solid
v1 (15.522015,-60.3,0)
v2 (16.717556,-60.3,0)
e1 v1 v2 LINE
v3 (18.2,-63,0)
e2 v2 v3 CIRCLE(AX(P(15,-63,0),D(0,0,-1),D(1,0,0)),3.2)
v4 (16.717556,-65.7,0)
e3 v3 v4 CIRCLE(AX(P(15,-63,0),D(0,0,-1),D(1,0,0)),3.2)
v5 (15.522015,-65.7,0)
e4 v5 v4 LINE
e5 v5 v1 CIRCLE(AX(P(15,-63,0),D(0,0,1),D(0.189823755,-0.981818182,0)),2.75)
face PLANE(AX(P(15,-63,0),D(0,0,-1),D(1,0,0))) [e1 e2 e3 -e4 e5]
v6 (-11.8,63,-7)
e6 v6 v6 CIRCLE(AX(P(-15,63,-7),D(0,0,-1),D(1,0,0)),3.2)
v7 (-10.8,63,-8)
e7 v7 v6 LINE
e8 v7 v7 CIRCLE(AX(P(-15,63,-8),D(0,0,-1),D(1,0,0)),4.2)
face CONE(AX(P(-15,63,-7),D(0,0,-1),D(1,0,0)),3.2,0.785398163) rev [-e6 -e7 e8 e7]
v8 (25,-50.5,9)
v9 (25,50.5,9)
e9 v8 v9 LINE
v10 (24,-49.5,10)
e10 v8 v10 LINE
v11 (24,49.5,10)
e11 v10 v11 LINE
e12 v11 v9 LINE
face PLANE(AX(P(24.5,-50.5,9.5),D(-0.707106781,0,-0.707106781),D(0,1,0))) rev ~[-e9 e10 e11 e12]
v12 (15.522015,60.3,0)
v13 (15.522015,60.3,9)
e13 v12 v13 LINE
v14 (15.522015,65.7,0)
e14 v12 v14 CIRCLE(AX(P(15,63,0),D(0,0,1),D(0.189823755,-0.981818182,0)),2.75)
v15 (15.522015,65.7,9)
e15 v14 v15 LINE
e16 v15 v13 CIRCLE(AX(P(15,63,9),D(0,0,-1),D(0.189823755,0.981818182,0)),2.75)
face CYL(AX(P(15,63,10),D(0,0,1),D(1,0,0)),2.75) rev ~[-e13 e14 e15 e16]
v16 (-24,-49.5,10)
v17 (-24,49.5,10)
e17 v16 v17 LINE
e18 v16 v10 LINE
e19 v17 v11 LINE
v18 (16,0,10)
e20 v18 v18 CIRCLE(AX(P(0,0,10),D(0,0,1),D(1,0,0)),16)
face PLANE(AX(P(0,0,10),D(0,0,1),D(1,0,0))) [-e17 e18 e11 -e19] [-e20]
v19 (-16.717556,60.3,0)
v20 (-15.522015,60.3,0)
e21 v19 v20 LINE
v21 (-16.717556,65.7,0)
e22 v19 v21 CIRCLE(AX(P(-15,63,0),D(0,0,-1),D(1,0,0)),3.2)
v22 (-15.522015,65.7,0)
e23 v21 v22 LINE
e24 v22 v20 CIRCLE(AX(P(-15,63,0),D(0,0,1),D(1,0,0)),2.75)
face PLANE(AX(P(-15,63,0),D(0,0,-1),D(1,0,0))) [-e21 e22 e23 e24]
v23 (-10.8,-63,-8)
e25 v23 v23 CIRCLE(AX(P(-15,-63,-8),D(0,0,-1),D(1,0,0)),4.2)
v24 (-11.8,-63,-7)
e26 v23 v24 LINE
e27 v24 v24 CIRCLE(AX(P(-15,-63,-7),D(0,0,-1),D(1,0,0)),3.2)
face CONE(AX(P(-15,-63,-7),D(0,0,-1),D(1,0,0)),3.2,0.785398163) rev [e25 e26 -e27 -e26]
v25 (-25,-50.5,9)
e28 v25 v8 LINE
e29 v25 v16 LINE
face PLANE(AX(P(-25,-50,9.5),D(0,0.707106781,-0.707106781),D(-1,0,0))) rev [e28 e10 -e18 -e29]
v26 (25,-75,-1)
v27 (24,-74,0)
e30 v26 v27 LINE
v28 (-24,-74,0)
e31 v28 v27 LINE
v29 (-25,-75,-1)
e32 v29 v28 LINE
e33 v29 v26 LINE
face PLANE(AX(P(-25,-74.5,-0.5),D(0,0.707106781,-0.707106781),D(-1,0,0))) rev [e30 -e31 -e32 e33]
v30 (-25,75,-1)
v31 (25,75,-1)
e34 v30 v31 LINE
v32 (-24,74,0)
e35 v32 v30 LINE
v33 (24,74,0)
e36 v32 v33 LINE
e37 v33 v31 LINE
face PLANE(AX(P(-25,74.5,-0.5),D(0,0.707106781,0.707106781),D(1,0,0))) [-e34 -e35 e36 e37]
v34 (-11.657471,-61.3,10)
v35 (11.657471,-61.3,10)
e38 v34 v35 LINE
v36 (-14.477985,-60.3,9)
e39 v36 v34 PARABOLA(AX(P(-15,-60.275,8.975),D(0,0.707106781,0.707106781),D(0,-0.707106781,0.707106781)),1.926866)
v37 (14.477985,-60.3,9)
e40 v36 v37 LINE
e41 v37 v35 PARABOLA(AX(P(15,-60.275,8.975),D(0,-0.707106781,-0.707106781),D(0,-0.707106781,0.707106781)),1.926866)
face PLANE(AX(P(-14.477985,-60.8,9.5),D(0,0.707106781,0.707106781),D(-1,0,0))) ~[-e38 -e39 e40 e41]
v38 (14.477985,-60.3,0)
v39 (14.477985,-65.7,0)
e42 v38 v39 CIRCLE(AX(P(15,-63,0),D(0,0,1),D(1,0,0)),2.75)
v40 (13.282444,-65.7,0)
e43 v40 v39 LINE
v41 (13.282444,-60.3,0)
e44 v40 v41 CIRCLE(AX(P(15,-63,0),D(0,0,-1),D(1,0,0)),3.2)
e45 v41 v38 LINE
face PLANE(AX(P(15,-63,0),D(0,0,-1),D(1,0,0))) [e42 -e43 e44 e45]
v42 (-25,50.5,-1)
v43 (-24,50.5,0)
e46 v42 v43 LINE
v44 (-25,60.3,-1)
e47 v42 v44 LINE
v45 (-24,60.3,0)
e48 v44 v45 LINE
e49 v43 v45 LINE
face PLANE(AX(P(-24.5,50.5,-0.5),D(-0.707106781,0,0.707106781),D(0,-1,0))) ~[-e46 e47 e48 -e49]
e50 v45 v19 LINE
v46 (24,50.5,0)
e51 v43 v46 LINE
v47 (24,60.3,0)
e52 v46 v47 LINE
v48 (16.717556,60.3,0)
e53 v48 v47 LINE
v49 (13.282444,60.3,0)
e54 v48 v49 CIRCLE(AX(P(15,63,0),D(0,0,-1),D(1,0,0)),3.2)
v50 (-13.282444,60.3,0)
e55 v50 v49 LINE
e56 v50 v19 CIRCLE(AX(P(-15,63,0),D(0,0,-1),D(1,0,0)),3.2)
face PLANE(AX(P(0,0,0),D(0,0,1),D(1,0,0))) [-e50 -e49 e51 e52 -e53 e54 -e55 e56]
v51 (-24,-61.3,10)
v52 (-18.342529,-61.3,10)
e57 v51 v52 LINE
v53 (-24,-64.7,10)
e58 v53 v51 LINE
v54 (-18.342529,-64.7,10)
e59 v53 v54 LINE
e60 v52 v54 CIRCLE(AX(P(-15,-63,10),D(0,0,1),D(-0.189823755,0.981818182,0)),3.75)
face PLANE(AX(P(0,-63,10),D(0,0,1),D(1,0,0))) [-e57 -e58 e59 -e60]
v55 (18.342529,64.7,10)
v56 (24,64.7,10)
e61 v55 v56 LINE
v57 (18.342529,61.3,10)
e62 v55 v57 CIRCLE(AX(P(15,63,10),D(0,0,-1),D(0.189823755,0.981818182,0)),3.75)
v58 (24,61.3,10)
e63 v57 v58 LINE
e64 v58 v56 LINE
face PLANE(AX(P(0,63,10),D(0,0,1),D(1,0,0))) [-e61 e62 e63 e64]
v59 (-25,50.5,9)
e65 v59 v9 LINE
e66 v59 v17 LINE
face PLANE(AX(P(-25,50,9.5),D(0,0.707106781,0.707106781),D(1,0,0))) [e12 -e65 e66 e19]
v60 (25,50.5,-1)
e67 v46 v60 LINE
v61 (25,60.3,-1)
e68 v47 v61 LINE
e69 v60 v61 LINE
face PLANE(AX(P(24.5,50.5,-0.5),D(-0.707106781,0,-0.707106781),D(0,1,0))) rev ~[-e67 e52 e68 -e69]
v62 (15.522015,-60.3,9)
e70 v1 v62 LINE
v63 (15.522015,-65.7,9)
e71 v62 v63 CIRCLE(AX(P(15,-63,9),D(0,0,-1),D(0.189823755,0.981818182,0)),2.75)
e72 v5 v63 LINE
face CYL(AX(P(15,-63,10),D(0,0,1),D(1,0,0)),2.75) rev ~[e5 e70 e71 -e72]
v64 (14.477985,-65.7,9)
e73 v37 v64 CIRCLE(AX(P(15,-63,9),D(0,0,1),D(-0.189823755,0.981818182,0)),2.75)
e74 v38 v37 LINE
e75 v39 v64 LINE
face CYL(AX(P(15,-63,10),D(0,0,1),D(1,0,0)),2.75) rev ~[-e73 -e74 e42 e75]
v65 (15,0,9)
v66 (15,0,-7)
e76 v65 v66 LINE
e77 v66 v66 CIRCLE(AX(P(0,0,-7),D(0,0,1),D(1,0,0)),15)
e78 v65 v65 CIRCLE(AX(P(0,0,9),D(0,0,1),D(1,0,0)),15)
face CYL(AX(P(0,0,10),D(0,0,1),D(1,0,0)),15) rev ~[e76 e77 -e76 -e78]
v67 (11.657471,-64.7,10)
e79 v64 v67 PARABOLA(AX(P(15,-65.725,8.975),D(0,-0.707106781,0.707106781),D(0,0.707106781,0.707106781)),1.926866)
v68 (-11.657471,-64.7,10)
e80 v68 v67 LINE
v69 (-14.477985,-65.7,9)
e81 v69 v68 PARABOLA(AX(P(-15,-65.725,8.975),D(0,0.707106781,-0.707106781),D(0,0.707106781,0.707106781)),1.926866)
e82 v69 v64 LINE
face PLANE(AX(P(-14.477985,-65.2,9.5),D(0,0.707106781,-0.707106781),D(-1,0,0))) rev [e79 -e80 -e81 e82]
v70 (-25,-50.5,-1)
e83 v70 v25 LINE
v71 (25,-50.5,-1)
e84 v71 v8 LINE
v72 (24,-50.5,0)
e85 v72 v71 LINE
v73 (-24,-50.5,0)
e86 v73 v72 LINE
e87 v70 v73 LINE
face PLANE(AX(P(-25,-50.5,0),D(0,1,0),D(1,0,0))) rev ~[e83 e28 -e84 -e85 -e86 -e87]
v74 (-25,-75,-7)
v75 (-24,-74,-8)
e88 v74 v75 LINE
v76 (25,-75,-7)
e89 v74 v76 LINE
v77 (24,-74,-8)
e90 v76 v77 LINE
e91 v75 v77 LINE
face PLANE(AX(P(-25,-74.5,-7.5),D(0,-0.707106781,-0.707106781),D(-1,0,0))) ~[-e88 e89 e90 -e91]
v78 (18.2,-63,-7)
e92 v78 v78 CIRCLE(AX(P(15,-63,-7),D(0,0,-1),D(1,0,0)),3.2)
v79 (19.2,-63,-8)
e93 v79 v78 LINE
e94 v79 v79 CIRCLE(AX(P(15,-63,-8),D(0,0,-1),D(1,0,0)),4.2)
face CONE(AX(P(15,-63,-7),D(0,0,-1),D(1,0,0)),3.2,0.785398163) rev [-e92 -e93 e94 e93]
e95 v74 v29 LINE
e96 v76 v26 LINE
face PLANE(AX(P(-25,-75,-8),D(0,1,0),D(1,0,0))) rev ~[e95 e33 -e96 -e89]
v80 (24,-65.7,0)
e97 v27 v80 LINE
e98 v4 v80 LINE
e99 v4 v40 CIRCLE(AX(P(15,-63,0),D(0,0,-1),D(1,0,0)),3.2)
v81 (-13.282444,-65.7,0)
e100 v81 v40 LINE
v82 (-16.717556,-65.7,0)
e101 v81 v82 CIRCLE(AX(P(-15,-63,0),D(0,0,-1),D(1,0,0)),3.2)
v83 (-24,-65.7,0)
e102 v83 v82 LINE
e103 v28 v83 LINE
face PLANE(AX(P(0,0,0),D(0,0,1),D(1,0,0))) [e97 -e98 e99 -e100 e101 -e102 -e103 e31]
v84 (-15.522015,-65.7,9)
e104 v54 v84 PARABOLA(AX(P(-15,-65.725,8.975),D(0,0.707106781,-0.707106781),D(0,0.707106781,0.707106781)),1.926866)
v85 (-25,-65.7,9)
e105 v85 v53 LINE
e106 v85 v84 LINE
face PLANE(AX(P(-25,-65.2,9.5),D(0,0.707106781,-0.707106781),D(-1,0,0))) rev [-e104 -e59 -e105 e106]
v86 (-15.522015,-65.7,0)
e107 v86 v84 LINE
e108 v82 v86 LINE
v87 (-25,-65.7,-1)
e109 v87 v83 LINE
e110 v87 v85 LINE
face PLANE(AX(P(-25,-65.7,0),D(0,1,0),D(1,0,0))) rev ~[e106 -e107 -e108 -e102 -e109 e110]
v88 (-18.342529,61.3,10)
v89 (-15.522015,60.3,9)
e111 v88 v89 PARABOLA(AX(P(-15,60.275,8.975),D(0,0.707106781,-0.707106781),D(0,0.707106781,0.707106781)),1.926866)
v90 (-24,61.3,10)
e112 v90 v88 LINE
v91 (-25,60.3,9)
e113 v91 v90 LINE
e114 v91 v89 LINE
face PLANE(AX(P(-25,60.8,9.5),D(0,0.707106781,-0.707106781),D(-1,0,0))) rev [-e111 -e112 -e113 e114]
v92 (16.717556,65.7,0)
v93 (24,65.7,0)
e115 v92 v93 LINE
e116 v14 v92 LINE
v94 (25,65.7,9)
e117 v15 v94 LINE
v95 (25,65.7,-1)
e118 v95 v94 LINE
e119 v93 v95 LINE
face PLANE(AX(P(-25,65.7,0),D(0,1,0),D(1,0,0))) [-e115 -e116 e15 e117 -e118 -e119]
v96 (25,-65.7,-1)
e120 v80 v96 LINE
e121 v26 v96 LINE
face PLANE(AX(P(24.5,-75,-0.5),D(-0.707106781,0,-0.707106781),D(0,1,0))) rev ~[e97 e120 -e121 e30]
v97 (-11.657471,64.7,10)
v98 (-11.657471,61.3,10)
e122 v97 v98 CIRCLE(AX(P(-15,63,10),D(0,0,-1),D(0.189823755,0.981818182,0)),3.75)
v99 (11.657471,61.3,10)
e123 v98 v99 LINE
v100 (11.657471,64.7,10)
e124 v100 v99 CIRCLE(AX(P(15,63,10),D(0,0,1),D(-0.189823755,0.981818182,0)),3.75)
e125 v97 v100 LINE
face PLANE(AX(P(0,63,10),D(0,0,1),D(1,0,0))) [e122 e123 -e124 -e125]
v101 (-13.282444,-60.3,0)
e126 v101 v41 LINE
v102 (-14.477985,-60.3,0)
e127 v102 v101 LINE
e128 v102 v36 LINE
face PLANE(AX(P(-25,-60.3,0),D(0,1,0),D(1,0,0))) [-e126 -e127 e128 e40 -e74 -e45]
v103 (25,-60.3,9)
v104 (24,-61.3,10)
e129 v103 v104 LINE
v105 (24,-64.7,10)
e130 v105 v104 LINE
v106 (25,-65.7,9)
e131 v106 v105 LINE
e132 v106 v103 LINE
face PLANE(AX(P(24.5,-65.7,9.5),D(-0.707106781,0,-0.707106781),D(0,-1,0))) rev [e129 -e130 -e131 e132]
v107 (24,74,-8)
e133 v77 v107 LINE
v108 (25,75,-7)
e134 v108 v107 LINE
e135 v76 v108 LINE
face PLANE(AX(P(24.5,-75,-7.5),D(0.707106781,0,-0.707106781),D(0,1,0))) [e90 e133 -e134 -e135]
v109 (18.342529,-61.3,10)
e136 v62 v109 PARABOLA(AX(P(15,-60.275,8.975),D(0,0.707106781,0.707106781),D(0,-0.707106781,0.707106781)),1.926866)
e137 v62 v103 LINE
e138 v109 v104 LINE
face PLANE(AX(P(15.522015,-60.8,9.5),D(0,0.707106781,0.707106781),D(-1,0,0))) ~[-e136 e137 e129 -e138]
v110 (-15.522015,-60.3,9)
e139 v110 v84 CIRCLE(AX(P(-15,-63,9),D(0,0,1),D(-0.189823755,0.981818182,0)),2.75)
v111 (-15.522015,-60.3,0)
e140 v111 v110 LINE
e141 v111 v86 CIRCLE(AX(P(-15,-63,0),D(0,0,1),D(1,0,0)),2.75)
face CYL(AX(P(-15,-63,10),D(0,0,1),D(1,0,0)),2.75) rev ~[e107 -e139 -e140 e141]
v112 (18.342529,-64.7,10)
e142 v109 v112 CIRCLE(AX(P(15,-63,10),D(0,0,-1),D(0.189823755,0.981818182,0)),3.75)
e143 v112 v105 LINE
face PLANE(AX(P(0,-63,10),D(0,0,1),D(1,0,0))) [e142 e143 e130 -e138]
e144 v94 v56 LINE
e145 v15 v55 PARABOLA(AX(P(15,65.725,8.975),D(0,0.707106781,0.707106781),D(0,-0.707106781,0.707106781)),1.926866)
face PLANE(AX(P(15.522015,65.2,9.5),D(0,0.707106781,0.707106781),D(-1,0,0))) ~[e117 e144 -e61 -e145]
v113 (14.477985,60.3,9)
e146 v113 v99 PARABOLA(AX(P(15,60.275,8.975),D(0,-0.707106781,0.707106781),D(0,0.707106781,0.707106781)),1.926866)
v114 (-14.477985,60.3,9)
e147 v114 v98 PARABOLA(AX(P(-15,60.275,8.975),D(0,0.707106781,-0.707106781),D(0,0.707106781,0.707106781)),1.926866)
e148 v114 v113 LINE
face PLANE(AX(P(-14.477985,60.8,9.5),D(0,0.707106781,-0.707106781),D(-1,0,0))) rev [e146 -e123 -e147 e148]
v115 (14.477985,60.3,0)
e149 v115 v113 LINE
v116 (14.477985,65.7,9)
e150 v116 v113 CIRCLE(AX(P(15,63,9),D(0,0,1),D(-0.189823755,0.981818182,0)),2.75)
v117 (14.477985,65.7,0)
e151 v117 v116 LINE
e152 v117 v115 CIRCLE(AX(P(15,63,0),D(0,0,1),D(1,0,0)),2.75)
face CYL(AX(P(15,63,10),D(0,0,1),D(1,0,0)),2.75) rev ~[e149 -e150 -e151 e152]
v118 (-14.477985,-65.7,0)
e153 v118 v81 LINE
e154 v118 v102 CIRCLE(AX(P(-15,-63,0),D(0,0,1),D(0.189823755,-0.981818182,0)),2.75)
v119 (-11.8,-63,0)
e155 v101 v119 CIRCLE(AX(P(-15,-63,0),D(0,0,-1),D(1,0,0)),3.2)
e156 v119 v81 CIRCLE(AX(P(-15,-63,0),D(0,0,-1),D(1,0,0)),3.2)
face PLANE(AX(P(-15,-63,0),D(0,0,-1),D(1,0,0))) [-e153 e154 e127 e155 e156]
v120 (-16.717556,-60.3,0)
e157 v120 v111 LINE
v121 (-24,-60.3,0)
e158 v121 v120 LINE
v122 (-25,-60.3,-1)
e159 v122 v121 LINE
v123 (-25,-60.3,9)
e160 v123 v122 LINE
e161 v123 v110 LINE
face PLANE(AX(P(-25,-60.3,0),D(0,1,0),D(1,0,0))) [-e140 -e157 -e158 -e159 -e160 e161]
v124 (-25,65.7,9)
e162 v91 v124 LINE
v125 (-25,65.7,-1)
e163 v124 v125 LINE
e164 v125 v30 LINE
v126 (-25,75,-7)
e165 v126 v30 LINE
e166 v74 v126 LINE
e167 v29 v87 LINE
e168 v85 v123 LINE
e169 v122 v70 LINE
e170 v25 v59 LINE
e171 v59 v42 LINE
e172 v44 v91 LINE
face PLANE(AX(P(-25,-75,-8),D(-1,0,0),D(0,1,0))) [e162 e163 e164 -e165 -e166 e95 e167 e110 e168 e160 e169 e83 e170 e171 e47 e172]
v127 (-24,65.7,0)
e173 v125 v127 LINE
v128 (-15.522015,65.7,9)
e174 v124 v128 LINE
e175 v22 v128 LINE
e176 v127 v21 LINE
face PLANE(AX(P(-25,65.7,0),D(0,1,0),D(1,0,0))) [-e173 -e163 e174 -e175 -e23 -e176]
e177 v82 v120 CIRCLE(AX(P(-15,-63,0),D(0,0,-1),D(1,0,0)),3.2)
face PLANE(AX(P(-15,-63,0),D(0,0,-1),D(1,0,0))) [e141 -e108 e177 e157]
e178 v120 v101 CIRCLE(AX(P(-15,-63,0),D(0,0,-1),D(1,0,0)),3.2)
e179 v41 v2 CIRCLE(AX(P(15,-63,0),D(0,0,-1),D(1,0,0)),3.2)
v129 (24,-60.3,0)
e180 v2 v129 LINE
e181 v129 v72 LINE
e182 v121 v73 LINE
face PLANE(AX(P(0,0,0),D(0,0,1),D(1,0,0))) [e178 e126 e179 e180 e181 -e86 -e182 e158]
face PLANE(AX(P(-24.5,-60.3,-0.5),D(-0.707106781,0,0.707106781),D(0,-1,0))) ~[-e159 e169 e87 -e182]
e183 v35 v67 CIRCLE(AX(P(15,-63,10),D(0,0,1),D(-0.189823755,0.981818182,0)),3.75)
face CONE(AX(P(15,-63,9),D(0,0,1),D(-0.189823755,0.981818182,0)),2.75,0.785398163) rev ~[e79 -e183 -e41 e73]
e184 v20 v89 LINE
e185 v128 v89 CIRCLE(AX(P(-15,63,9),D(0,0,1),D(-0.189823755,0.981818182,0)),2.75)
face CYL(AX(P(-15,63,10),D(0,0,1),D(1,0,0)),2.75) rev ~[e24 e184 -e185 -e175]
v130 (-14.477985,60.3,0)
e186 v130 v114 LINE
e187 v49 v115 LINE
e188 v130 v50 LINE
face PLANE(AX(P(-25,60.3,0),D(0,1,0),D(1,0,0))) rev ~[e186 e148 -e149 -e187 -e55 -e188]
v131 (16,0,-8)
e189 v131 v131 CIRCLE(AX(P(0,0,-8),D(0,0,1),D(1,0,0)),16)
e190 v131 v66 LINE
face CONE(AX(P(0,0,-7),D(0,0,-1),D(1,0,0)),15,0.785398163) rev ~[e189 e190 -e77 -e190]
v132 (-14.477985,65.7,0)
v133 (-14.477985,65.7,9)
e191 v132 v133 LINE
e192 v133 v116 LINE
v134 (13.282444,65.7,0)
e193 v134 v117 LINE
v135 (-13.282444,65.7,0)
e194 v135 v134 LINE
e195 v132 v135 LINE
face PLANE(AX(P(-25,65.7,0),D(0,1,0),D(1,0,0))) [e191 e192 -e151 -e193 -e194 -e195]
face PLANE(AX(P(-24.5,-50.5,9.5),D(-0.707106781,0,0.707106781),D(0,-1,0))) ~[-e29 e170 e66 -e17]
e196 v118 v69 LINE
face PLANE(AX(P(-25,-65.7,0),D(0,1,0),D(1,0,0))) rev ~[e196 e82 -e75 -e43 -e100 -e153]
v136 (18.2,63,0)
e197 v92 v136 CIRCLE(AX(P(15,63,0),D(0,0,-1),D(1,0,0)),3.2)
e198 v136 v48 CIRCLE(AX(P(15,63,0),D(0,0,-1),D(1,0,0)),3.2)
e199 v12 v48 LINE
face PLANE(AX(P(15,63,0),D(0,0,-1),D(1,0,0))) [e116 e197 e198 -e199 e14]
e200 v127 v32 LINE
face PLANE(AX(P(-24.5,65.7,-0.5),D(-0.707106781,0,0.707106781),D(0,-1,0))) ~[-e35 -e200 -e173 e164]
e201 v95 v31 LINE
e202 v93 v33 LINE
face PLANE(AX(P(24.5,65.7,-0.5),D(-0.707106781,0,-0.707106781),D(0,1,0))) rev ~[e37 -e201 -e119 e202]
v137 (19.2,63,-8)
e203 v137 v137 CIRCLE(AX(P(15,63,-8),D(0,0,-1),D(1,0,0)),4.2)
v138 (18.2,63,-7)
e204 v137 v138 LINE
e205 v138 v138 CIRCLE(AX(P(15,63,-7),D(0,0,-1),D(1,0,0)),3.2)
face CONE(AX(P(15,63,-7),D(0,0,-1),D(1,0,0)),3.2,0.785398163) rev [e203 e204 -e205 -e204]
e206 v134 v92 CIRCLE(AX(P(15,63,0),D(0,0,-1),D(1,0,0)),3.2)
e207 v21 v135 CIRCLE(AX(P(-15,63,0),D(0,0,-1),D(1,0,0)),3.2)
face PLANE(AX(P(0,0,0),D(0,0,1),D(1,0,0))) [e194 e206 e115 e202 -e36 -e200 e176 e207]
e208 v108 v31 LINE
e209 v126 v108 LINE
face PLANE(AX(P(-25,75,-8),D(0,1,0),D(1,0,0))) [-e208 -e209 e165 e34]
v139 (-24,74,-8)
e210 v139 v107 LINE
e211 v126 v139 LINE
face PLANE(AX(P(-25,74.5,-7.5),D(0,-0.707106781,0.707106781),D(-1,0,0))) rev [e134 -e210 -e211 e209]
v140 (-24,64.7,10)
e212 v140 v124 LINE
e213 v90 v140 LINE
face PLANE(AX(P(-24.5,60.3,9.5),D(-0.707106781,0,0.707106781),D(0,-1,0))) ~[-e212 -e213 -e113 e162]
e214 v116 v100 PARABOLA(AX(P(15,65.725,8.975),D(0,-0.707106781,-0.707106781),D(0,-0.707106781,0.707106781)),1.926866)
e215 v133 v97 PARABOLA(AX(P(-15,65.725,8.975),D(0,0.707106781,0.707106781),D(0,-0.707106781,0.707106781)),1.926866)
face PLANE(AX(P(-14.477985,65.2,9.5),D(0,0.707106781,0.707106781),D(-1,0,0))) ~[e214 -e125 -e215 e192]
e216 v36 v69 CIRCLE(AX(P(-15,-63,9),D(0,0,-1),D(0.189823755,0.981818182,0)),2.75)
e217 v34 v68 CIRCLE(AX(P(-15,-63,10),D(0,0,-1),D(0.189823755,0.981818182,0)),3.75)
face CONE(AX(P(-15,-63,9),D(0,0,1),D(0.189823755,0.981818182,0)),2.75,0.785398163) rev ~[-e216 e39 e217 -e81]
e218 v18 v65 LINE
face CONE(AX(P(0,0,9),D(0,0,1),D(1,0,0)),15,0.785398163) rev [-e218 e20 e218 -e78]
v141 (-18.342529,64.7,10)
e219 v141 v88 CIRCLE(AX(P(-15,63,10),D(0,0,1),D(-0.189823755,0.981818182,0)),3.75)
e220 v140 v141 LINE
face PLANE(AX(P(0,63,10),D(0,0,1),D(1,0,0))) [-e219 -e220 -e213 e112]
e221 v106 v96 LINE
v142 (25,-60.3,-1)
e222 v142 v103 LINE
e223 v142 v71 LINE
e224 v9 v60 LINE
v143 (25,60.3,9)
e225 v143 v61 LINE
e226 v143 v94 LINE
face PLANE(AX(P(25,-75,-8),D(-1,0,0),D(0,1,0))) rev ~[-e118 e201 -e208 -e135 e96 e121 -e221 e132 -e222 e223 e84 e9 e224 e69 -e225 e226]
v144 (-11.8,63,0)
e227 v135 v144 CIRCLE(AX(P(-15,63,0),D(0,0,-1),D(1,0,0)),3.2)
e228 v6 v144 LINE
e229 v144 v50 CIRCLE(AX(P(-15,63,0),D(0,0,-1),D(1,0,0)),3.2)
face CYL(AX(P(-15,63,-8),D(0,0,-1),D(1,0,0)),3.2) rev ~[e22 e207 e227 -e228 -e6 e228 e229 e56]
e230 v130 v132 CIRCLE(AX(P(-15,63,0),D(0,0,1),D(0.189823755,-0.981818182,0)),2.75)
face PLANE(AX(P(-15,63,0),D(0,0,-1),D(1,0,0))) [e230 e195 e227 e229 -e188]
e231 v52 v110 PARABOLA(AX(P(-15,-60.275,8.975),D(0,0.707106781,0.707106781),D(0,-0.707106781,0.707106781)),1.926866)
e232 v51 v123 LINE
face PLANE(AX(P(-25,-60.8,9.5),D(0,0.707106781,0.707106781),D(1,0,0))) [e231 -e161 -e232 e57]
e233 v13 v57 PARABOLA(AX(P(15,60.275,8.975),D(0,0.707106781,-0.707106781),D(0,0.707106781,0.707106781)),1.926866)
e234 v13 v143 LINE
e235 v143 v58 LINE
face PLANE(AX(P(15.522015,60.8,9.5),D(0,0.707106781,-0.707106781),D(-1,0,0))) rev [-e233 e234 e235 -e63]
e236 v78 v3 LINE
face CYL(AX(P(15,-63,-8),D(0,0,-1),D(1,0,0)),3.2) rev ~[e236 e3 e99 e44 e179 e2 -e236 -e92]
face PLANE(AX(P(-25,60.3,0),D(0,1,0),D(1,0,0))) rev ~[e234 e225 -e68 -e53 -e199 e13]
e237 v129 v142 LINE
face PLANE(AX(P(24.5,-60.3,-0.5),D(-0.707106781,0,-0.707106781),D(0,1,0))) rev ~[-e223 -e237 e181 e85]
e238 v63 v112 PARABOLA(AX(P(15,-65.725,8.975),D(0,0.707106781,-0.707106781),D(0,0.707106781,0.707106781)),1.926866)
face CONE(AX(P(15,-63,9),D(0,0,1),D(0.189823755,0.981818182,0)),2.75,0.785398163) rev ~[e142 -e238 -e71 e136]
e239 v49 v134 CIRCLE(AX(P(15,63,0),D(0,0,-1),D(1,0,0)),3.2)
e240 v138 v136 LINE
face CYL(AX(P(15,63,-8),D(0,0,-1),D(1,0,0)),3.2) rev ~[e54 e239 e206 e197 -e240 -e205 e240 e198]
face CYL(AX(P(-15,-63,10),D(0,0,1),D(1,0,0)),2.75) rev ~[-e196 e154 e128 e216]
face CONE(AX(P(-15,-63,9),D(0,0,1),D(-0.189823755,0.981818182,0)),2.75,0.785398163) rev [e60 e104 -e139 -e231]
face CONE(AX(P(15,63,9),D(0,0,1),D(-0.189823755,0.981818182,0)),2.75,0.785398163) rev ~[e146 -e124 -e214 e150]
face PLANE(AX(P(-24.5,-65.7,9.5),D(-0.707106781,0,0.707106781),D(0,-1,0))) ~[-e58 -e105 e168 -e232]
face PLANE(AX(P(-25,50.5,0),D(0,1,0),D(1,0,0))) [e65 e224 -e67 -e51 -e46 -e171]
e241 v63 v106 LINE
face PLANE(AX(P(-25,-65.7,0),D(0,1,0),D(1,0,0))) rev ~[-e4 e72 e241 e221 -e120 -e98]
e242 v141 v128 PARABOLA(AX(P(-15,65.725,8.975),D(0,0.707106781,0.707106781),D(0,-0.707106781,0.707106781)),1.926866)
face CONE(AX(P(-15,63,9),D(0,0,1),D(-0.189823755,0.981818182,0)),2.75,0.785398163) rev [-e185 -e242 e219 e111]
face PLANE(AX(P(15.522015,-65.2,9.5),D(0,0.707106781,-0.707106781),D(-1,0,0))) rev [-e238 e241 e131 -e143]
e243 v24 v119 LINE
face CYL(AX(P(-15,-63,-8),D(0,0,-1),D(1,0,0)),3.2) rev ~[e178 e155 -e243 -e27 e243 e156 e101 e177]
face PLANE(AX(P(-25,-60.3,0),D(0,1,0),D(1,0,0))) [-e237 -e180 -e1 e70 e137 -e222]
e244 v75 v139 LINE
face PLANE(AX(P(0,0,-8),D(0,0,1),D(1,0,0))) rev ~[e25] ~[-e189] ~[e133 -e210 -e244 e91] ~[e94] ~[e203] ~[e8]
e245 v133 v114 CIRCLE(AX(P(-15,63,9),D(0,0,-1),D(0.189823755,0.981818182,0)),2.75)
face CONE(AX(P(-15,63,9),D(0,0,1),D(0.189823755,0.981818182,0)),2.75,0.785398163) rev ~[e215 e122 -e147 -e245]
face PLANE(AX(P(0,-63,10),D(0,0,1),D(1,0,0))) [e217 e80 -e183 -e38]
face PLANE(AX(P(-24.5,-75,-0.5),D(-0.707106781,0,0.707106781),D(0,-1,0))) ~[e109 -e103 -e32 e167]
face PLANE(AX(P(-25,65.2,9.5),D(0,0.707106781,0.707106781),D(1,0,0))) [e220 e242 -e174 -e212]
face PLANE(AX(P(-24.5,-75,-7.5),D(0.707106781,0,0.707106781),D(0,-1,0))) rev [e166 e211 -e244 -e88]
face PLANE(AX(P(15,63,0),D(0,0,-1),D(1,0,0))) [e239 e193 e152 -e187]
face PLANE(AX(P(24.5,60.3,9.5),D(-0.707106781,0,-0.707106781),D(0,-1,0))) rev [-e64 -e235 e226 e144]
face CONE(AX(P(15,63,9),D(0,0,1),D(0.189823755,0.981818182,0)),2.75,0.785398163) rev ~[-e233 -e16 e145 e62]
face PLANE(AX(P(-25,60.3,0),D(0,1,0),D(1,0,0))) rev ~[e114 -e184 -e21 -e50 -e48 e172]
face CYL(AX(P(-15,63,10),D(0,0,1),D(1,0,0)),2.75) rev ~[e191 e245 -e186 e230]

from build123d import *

# Parameters (mm, degrees)
SKETCH013_W     = 50
SKETCH013_H     = 150
PAD008_DEPTH    = 8
SKETCH014_W     = 50
SKETCH014_H     = 5.4
SKETCH014_H_2   = 101
PAD009_DEPTH    = 10
SKETCH015_R     = 2.75
POCKET003_DEPTH = 18.001
SKETCH016_R     = 3.2
POCKET004_DEPTH = 8
SKETCH017_R     = 15
POCKET005_DEPTH = 18.001
CHAMFER002_SIZE = 1


with BuildPart() as part:
    # Sketch013 → Pad008 (new body)
    with BuildSketch(Plane.XY.offset(-8)):
        Rectangle(SKETCH013_W, SKETCH013_H)
    extrude(amount=PAD008_DEPTH)

    # Sketch014 → Pad009 (join)
    with BuildSketch(Plane.XY):
        with Locations((0, 63)):
            Rectangle(SKETCH014_W, SKETCH014_H)
        with Locations((0, -63)):
            Rectangle(SKETCH014_W, SKETCH014_H)
        Rectangle(SKETCH014_W, SKETCH014_H_2)
    extrude(amount=PAD009_DEPTH)

    # Sketch015 (on Face18 of Pad009) → Pocket003 (cut, through all)
    with BuildSketch(Plane.XY.offset(10)):
        with Locations((-15, 63)):
            Circle(SKETCH015_R)
        with Locations((15, 63)):
            Circle(SKETCH015_R)
        with Locations((-15, -63)):
            Circle(SKETCH015_R)
        with Locations((15, -63)):
            Circle(SKETCH015_R)
    extrude(amount=-POCKET003_DEPTH, mode=Mode.SUBTRACT)

    # Sketch016 (on Face4 of Pocket003) → Pocket004 (cut)
    with BuildSketch(Plane(origin=(0, 0, -8), x_dir=(1, 0, 0), z_dir=(0, 0, -1))):
        with Locations((-15, -63)):
            Circle(SKETCH016_R)
        with Locations((15, -63)):
            Circle(SKETCH016_R)
        with Locations((15, 63)):
            Circle(SKETCH016_R)
        with Locations((-15, 63)):
            Circle(SKETCH016_R)
    extrude(amount=-POCKET004_DEPTH, mode=Mode.SUBTRACT)

    # Sketch017 (on Face26 of Pocket004) → Pocket005 (cut, through all)
    with BuildSketch(Plane.XY.offset(10)):
        Circle(SKETCH017_R)
    extrude(amount=-POCKET005_DEPTH, mode=Mode.SUBTRACT)

    # Chamfer002
    chamfer002_edges = [part.edges().sort_by_distance(p)[0] for p in [
        (-25, 0, 10),
        (0, 50.5, 10),
        (0, -50.5, 10),
        (25, 0, 10),
        (-15, 0, 10),
        (20.261008, 65.7, 10),
        (25, 63, 10),
        (20.261008, 60.3, 10),
        (17.12109, 61.24972, 10),
        (17.12109, 64.75028, 10),
        (0, 65.7, 10),
        (12.25, 63, 10),
        (0, 60.3, 10),
        (-12.87891, 61.24972, 10),
        (-12.87891, 64.75028, 10),
        (-20.261008, 65.7, 10),
        (-17.75, 63, 10),
        (-20.261008, 60.3, 10),
        (-25, 63, 10),
        (20.261008, -60.3, 10),
        (25, -63, 10),
        (20.261008, -65.7, 10),
        (17.12109, -64.75028, 10),
        (17.12109, -61.24972, 10),
        (0, -60.3, 10),
        (12.25, -63, 10),
        (0, -65.7, 10),
        (-12.87891, -64.75028, 10),
        (-12.87891, -61.24972, 10),
        (-20.261008, -60.3, 10),
        (-17.75, -63, 10),
        (-20.261008, -65.7, 10),
        (-25, -63, 10),
        (0, -75, 0),
        (25, -55.4, 0),
        (25, -70.35, 0),
        (-25, -70.35, 0),
        (-25, -55.4, 0),
        (-25, 55.4, 0),
        (25, 55.4, 0),
        (25, 70.35, 0),
        (0, 75, 0),
        (-25, 70.35, 0),
        (-25, 0, -8),
        (0, 75, -8),
        (0, -75, -8),
        (25, 0, -8),
        (-18.2, -63, -8),
        (11.8, -63, -8),
        (-15, 0, -8),
        (-18.2, 63, -8),
        (11.8, 63, -8),
    ]]
    chamfer(chamfer002_edges, length=CHAMFER002_SIZE)


solid = part.part
